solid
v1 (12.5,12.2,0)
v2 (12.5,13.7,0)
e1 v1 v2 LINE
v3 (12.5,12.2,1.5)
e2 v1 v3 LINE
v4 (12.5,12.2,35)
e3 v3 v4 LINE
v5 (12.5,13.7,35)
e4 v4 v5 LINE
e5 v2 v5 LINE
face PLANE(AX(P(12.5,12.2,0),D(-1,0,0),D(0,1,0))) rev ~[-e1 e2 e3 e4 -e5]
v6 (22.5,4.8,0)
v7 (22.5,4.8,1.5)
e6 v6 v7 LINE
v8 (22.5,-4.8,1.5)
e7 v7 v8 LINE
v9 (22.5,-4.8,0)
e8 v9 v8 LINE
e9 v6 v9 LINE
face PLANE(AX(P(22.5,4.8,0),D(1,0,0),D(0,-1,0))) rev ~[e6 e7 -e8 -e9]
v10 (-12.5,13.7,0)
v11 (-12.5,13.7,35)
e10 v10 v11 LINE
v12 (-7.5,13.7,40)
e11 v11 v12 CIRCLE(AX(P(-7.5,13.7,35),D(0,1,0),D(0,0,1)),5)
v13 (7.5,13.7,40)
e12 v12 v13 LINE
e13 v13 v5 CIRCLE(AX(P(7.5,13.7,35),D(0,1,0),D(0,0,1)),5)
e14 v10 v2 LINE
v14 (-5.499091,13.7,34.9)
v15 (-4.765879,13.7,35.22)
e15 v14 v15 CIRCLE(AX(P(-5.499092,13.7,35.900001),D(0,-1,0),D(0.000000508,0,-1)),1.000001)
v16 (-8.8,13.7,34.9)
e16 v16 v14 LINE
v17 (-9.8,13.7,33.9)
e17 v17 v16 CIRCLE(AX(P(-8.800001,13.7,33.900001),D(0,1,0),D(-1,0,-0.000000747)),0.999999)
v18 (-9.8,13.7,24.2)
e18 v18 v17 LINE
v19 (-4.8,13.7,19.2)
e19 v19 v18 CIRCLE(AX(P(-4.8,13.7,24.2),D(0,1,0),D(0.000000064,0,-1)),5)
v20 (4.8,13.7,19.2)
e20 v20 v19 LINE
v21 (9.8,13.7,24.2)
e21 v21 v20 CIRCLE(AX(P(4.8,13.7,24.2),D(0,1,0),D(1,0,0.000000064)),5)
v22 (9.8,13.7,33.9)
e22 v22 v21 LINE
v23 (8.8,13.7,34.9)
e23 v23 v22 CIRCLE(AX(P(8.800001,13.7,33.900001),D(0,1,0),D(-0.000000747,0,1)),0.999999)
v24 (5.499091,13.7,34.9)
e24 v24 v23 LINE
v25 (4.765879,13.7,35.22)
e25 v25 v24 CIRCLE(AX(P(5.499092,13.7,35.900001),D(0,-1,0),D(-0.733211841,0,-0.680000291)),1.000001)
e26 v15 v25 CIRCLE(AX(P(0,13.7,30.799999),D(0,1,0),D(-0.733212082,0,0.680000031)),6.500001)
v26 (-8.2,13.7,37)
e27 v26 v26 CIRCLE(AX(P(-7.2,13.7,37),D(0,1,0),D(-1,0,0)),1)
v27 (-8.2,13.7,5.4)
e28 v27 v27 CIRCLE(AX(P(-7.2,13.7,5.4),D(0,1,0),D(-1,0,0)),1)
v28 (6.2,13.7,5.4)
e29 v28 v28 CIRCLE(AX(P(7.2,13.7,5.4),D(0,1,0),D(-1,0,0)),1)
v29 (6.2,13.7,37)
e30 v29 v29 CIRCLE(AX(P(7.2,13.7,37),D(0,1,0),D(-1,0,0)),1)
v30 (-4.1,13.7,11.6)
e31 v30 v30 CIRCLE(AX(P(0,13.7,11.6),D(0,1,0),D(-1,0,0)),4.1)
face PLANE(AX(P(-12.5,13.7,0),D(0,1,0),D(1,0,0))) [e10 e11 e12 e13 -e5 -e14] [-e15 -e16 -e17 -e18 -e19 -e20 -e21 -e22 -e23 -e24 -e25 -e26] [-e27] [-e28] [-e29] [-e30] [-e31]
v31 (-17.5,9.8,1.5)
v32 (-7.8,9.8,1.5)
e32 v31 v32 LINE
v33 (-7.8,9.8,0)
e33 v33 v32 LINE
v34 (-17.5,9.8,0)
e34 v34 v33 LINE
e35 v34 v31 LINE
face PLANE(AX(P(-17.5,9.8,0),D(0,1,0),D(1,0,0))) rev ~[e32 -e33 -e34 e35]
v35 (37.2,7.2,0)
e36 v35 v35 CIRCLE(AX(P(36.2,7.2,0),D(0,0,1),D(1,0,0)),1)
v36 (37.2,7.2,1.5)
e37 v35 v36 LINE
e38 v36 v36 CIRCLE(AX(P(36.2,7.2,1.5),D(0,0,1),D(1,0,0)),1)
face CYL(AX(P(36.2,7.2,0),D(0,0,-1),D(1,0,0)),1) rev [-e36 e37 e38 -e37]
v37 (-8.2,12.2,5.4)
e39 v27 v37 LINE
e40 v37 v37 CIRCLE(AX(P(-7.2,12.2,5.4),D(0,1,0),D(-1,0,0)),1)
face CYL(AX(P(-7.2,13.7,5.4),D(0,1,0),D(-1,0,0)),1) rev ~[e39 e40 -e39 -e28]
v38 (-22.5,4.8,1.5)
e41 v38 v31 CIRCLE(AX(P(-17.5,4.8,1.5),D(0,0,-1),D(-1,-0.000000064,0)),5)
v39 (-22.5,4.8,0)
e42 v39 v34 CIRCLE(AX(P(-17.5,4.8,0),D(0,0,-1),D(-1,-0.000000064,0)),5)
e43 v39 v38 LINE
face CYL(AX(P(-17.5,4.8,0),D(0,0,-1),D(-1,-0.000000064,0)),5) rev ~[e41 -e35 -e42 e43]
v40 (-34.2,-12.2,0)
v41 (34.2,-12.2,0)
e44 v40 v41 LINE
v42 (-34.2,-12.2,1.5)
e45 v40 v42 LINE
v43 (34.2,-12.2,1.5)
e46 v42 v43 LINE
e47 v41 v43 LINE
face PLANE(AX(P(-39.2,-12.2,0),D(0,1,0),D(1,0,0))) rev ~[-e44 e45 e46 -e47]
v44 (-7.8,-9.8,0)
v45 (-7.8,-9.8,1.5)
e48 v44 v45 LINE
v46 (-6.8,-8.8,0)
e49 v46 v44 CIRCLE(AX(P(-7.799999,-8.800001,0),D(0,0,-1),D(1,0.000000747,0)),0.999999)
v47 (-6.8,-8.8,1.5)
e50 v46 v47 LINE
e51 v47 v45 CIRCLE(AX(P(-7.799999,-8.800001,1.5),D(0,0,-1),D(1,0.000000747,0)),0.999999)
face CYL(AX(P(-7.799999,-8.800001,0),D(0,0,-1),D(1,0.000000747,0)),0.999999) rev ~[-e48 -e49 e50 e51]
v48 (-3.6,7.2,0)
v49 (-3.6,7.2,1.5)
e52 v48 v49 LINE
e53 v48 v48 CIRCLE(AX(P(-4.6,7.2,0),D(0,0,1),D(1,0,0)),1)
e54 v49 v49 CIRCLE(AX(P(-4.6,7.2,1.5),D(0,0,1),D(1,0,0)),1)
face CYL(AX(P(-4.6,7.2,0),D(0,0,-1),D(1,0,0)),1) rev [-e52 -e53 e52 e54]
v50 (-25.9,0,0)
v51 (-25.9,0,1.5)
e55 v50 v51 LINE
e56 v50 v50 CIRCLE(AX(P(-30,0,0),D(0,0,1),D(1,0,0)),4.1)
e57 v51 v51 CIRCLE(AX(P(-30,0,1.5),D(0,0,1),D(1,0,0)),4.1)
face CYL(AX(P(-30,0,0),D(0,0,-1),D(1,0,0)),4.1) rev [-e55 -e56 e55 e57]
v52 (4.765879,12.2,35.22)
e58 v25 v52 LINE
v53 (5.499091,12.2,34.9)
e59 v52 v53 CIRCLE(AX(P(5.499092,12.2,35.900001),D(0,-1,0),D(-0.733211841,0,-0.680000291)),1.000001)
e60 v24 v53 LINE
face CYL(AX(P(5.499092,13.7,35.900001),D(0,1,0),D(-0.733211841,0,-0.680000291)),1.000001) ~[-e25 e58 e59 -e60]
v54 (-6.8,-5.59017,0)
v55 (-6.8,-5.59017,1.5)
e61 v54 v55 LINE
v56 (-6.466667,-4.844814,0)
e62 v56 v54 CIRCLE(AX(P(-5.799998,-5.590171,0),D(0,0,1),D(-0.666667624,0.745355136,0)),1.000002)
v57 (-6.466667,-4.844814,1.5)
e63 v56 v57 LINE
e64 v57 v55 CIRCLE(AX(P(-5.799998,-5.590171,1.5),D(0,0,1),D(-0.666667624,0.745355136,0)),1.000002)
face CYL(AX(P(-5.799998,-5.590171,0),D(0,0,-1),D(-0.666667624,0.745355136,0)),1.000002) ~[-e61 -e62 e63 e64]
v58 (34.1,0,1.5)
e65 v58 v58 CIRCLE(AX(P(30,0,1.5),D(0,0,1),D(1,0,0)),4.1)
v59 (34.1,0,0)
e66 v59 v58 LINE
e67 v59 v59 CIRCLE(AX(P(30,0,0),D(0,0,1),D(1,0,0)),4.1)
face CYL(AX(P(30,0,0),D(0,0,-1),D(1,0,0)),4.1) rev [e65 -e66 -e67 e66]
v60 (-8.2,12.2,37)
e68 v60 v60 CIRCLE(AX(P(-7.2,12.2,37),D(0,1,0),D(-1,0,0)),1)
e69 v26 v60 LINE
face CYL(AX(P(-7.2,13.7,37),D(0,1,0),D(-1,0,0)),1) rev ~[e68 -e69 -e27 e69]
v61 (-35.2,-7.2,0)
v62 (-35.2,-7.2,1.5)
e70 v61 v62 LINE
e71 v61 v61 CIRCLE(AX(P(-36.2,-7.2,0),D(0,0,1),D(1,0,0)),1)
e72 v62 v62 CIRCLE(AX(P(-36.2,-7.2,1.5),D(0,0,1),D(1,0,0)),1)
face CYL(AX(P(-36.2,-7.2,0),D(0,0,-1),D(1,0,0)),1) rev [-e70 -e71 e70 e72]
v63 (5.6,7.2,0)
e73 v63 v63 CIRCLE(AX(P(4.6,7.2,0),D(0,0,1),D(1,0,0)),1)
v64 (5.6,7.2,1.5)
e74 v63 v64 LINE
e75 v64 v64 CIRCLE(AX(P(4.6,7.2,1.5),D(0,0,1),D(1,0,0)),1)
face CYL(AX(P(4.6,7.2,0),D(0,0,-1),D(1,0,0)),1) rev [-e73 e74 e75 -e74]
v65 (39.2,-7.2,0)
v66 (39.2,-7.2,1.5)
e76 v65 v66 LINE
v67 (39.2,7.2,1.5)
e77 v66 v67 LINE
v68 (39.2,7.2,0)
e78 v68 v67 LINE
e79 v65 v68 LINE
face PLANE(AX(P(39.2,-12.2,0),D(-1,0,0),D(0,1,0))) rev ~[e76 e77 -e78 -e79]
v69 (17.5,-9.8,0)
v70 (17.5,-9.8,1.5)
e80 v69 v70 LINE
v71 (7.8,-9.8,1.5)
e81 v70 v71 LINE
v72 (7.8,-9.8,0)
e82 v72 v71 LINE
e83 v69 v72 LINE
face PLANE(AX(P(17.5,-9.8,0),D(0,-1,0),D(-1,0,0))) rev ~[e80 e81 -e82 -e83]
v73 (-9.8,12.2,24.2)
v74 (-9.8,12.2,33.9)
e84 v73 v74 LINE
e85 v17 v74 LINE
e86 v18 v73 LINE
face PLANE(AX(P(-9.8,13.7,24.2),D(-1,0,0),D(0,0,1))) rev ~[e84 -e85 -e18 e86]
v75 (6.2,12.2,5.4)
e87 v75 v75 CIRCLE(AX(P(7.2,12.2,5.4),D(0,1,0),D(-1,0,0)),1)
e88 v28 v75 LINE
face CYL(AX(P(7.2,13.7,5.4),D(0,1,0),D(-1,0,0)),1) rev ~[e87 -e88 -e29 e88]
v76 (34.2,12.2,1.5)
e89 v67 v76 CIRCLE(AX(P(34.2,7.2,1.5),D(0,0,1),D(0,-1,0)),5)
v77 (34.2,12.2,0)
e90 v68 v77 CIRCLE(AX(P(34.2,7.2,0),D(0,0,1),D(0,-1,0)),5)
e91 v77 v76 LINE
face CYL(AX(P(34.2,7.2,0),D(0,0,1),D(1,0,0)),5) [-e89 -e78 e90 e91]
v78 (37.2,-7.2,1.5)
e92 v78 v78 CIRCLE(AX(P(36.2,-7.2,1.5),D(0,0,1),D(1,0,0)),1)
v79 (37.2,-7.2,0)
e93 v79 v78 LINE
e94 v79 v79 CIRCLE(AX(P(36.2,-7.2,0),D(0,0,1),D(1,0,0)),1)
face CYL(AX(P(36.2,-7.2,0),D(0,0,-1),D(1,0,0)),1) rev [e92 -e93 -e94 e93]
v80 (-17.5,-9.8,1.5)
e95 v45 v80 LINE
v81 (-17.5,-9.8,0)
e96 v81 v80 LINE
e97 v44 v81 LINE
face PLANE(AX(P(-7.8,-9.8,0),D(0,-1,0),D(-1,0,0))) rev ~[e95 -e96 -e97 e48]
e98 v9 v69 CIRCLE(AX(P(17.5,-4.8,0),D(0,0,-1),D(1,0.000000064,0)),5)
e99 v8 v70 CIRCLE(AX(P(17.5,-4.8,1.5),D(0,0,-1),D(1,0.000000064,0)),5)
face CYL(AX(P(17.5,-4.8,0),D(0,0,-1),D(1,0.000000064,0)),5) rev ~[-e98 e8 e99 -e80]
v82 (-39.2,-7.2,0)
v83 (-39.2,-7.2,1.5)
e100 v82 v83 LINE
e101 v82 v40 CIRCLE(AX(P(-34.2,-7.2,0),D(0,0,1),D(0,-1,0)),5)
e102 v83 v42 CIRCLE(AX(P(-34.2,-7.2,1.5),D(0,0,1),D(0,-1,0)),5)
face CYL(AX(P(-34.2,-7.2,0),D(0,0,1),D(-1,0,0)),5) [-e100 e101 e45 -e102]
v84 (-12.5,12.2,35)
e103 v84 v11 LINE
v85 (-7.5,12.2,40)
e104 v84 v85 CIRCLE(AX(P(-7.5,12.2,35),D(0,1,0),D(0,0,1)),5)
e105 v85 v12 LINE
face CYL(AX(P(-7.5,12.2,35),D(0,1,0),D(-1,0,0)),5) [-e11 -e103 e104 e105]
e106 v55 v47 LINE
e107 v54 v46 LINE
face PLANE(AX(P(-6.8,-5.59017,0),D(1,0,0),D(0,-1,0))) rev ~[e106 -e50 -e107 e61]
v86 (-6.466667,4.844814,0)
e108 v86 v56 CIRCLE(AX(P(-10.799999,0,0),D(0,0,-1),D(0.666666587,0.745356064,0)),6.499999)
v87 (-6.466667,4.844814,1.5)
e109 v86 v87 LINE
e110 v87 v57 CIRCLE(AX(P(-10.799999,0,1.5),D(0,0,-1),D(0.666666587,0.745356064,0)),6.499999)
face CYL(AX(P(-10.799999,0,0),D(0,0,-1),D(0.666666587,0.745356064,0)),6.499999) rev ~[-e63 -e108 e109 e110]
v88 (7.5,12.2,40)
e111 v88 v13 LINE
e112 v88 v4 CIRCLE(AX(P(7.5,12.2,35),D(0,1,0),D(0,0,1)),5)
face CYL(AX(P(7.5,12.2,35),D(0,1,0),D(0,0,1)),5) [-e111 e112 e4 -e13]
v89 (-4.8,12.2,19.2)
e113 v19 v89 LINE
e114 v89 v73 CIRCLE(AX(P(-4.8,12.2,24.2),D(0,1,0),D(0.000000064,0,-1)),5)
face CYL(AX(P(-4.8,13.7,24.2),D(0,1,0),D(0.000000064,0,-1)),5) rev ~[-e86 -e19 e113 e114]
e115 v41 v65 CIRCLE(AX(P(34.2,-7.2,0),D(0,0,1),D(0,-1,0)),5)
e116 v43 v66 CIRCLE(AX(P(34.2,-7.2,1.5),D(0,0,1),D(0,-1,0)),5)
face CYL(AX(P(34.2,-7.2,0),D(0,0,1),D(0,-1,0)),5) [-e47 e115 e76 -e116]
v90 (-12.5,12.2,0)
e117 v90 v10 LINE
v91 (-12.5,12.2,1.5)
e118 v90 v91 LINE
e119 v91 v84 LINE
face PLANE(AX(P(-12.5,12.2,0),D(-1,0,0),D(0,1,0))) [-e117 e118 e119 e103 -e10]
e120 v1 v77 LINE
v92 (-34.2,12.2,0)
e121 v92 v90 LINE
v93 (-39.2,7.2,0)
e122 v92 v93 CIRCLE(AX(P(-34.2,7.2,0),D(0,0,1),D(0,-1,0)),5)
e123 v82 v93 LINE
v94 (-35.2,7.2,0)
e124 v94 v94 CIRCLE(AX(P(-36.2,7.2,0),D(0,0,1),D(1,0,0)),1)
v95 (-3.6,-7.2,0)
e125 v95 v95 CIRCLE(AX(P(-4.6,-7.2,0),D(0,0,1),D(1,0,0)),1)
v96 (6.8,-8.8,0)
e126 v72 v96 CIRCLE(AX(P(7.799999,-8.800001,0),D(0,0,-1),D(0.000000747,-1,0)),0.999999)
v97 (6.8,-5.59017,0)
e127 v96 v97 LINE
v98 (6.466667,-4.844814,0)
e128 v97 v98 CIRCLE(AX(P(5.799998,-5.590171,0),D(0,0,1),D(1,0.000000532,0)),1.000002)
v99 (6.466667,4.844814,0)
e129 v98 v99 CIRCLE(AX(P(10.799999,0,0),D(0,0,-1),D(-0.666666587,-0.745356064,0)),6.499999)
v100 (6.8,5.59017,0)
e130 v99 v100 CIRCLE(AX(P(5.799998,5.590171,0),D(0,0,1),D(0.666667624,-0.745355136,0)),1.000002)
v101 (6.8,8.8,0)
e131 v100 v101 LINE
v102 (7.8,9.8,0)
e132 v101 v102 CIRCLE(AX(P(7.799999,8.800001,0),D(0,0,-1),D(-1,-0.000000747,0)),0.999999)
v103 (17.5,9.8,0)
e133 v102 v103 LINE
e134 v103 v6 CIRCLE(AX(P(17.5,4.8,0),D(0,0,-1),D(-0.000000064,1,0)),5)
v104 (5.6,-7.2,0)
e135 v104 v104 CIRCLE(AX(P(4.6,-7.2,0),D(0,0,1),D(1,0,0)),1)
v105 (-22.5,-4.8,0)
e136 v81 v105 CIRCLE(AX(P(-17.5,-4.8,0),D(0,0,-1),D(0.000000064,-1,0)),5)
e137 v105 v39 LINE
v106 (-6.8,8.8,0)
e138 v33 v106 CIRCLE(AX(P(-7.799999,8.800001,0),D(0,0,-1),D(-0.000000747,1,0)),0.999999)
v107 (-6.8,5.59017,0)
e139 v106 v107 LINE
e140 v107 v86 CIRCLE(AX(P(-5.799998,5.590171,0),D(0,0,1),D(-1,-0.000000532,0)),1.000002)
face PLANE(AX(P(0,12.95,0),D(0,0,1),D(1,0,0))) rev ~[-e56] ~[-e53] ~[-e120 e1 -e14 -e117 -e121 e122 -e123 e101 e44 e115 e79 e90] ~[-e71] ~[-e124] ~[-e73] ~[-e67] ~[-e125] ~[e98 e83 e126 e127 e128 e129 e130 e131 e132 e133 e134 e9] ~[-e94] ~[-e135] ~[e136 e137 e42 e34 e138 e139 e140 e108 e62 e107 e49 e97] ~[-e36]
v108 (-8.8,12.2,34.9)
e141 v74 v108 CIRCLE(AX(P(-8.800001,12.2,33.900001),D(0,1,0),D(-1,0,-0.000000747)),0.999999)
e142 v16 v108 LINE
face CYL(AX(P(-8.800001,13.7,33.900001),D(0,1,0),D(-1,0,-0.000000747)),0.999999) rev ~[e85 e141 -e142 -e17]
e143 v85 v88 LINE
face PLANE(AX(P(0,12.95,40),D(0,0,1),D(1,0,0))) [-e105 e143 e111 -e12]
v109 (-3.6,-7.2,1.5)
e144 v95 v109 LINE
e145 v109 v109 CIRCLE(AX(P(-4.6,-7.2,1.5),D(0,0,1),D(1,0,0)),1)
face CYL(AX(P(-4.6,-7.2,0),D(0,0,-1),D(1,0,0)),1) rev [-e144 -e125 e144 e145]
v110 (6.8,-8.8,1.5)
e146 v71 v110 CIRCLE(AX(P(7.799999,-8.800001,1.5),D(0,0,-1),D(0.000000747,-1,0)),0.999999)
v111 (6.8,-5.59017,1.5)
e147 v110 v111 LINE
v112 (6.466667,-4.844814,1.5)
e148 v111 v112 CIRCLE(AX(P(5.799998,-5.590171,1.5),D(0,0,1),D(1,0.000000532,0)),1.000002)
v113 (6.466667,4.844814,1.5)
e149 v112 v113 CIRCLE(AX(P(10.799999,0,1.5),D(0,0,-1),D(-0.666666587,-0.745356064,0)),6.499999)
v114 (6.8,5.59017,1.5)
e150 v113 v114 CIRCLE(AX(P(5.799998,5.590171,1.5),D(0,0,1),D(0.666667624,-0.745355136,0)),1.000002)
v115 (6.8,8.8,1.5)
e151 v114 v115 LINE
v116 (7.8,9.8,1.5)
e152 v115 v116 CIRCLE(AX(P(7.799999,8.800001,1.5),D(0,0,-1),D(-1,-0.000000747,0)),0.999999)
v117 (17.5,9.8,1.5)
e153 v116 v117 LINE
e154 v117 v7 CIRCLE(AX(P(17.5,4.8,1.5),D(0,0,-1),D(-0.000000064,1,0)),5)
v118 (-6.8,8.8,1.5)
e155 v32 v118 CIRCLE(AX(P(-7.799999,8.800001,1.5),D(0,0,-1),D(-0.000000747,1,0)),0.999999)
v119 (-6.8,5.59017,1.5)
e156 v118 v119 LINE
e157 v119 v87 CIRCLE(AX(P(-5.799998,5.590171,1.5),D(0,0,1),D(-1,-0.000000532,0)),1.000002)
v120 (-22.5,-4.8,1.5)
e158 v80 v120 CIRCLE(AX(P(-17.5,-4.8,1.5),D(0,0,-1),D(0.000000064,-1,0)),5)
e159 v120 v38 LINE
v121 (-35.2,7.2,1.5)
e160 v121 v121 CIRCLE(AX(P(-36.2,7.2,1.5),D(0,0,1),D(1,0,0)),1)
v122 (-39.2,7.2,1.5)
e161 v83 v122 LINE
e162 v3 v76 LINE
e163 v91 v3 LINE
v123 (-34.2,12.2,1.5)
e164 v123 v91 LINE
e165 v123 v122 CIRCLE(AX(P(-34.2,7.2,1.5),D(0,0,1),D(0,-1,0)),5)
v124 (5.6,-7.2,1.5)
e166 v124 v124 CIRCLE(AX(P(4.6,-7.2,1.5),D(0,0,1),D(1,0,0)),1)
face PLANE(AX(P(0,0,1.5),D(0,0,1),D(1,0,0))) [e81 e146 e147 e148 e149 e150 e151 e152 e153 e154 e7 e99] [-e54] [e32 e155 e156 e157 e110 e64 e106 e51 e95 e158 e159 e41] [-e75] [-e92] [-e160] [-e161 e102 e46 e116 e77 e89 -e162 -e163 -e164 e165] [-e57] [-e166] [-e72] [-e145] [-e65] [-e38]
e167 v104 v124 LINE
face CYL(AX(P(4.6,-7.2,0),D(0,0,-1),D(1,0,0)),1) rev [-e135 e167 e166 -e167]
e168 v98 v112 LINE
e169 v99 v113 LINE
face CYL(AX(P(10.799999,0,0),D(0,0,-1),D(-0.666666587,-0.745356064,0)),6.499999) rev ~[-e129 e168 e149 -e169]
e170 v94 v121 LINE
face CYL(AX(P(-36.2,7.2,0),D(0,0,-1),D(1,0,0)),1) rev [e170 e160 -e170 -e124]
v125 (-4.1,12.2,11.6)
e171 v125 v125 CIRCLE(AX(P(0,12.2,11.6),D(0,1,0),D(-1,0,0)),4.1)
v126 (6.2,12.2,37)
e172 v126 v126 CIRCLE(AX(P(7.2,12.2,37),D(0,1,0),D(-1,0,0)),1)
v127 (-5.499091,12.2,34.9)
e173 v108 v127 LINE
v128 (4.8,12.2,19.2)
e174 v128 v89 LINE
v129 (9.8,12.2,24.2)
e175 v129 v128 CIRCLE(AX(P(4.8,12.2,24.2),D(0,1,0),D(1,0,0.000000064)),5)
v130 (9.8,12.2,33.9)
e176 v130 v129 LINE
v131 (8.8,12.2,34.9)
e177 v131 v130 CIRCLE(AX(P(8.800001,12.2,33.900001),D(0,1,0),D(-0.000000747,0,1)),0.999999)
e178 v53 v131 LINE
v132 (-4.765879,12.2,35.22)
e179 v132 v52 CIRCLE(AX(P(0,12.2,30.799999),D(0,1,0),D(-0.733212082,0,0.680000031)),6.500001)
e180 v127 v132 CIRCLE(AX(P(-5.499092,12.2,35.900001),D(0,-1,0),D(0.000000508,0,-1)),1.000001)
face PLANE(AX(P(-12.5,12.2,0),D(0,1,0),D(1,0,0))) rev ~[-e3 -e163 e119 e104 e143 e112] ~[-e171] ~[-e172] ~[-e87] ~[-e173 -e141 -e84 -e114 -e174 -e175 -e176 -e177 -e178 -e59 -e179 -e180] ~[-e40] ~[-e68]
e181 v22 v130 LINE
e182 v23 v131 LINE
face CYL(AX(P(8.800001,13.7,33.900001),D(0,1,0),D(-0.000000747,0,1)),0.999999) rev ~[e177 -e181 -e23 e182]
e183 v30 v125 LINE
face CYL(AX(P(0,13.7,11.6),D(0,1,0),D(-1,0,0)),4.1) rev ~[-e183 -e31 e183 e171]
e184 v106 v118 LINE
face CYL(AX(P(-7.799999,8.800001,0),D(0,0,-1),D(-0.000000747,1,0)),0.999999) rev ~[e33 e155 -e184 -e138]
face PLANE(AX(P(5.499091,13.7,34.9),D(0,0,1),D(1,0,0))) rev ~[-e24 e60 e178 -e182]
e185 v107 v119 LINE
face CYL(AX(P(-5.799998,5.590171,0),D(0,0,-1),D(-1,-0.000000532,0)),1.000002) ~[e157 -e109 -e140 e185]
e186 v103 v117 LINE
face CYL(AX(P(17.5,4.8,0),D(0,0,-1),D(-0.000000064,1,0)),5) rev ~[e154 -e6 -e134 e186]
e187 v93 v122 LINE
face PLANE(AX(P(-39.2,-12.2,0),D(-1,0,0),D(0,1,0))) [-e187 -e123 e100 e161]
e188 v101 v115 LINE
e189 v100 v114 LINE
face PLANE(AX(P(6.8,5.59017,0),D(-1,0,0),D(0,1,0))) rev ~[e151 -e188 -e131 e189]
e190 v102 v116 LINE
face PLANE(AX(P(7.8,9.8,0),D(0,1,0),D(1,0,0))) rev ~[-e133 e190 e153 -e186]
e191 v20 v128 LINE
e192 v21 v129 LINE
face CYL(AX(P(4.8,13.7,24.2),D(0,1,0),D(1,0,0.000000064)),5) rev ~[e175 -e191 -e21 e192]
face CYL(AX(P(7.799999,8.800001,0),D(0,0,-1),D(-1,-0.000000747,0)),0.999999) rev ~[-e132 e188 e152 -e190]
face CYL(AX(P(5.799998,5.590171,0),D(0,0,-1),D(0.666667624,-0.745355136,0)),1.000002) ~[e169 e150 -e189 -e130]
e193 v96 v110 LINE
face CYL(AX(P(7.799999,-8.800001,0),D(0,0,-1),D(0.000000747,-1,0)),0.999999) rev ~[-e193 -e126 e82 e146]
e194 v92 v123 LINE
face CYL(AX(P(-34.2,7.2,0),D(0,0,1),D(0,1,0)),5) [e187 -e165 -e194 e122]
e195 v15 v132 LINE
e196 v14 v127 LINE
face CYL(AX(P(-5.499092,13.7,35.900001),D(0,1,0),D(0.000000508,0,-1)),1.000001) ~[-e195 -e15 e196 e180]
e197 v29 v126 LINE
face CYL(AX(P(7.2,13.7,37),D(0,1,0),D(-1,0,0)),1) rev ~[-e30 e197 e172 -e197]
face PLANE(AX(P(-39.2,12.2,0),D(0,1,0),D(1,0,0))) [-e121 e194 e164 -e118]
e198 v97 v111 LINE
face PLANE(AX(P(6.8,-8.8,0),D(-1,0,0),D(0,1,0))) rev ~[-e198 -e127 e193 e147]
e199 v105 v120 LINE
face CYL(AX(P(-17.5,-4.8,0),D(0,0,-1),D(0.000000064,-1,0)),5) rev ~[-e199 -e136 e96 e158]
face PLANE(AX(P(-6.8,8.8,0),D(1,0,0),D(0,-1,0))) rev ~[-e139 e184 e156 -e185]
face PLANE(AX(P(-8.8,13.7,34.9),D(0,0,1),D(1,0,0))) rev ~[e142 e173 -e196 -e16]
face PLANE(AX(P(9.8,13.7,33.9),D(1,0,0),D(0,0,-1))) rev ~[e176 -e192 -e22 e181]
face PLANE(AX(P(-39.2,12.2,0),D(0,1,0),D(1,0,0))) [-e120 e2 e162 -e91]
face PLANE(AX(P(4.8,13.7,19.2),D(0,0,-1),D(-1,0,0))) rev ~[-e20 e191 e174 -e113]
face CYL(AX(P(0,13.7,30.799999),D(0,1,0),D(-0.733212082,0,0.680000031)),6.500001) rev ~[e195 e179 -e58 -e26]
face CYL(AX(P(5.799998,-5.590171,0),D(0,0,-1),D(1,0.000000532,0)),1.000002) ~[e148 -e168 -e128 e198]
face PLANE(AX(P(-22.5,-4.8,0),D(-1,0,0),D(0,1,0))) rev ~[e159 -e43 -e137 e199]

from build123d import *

# Parameters (mm, degrees)
F0_W     = 78.4
F0_H     = 24.4
F0_R     = 1
F0_R_2   = 4.1
F1_DEPTH = 1.5
F2_W     = 25
F2_H     = 1.5
F3_DEPTH = 40
F4_R     = 1
F4_R_2   = 4.1
F5_DEPTH = 1.5
F6_R     = 5


with BuildPart() as f1:
    # F0 (on Top) → F1 (new body)
    with BuildSketch(Plane.XY):
        Rectangle(F0_W, F0_H)
        with Locations((-36.2, -7.2)):
            Circle(F0_R, mode=Mode.SUBTRACT)
        with Locations((-4.6, -7.2)):
            Circle(F0_R, mode=Mode.SUBTRACT)
        with Locations((4.6, -7.2)):
            Circle(F0_R, mode=Mode.SUBTRACT)
        with Locations((36.2, -7.2)):
            Circle(F0_R, mode=Mode.SUBTRACT)
        with Locations((-30, 0)):
            Circle(F0_R_2, mode=Mode.SUBTRACT)
        with BuildLine():
            ThreePointArc((-22.5, 4.8), (-21.035534, 8.335534), (-17.5, 9.8))
            Line((-17.5, 9.8), (-7.8, 9.8))
            ThreePointArc((-7.8, 9.8), (-7.092893, 9.507107), (-6.8, 8.8))
            Line((-6.8, 8.8), (-6.8, 5.59017))
            ThreePointArc((-6.8, 5.59017), (-6.712871, 5.181922), (-6.466667, 4.844814))
            ThreePointArc((-6.466667, 4.844814), (-4.3, 0), (-6.466667, -4.844814))
            ThreePointArc((-6.466667, -4.844814), (-6.712871, -5.181922), (-6.8, -5.59017))
            Line((-6.8, -5.59017), (-6.8, -8.8))
            ThreePointArc((-6.8, -8.8), (-7.092893, -9.507107), (-7.8, -9.8))
            Line((-7.8, -9.8), (-17.5, -9.8))
            ThreePointArc((-17.5, -9.8), (-21.035534, -8.335534), (-22.5, -4.8))
            Line((-22.5, -4.8), (-22.5, 4.8))
        make_face(mode=Mode.SUBTRACT)
        with Locations((-36.2, 7.2)):
            Circle(F0_R, mode=Mode.SUBTRACT)
        with Locations((-4.6, 7.2)):
            Circle(F0_R, mode=Mode.SUBTRACT)
        with BuildLine():
            Line((6.8, 5.59017), (6.8, 8.8))
            ThreePointArc((6.8, 8.8), (7.092893, 9.507107), (7.8, 9.8))
            Line((7.8, 9.8), (17.5, 9.8))
            ThreePointArc((17.5, 9.8), (21.035534, 8.335534), (22.5, 4.8))
            Line((22.5, 4.8), (22.5, -4.8))
            ThreePointArc((22.5, -4.8), (21.035534, -8.335534), (17.5, -9.8))
            Line((17.5, -9.8), (7.8, -9.8))
            ThreePointArc((7.8, -9.8), (7.092893, -9.507107), (6.8, -8.8))
            Line((6.8, -8.8), (6.8, -5.59017))
            ThreePointArc((6.8, -5.59017), (6.712871, -5.181922), (6.466667, -4.844814))
            ThreePointArc((6.466667, -4.844814), (4.3, 0), (6.466667, 4.844814))
            ThreePointArc((6.466667, 4.844814), (6.712871, 5.181922), (6.8, 5.59017))
        make_face(mode=Mode.SUBTRACT)
        with Locations((30, 0)):
            Circle(F0_R_2, mode=Mode.SUBTRACT)
        with Locations((4.6, 7.2)):
            Circle(F0_R, mode=Mode.SUBTRACT)
        with Locations((36.2, 7.2)):
            Circle(F0_R, mode=Mode.SUBTRACT)
    extrude(amount=F1_DEPTH)

    # F2 (on Top) → F3 (join)
    with BuildSketch(Plane.XY):
        with Locations((0, 12.95)):
            Rectangle(F2_W, F2_H)
    extrude(amount=F3_DEPTH)

    # F4 (on face) → F5 (cut, through all)
    with BuildSketch(Plane(origin=(0, 13.7, 0), x_dir=(-1, 0, 0), z_dir=(0, 1, 0))):
        with Locations((7.2, 37)):
            Circle(F4_R)
        with Locations((7.2, 5.4)):
            Circle(F4_R)
        with Locations((0, 11.6)):
            Circle(F4_R_2)
        with BuildLine():
            ThreePointArc((9.8, 33.9), (9.507107, 34.607107), (8.8, 34.9))
            Line((8.8, 34.9), (5.499091, 34.9))
            ThreePointArc((5.499091, 34.9), (5.099091, 34.983485), (4.765879, 35.22))
            ThreePointArc((4.765879, 35.22), (0, 37.3), (-4.765879, 35.22))
            ThreePointArc((-4.765879, 35.22), (-5.099091, 34.983485), (-5.499091, 34.9))
            Line((-5.499091, 34.9), (-8.8, 34.9))
            ThreePointArc((-8.8, 34.9), (-9.507107, 34.607107), (-9.8, 33.9))
            Line((-9.8, 33.9), (-9.8, 24.2))
            ThreePointArc((-9.8, 24.2), (-8.335534, 20.664466), (-4.8, 19.2))
            Line((-4.8, 19.2), (4.8, 19.2))
            ThreePointArc((4.8, 19.2), (8.335534, 20.664466), (9.8, 24.2))
            Line((9.8, 24.2), (9.8, 33.9))
        make_face()
        with Locations((-7.2, 37)):
            Circle(F4_R)
        with Locations((-7.2, 5.4)):
            Circle(F4_R)
    extrude(amount=-F5_DEPTH, mode=Mode.SUBTRACT)

    # F6
    f6_edges = [f1.edges().sort_by_distance(p)[0] for p in [
        (-39.2, 12.2, 0.75),
        (-39.2, -12.2, 0.75),
        (39.2, 12.2, 0.75),
        (39.2, -12.2, 0.75),
        (-12.5, 12.95, 40),
        (12.5, 12.95, 40),
    ]]
    fillet(f6_edges, radius=F6_R)


solid = f1.part
